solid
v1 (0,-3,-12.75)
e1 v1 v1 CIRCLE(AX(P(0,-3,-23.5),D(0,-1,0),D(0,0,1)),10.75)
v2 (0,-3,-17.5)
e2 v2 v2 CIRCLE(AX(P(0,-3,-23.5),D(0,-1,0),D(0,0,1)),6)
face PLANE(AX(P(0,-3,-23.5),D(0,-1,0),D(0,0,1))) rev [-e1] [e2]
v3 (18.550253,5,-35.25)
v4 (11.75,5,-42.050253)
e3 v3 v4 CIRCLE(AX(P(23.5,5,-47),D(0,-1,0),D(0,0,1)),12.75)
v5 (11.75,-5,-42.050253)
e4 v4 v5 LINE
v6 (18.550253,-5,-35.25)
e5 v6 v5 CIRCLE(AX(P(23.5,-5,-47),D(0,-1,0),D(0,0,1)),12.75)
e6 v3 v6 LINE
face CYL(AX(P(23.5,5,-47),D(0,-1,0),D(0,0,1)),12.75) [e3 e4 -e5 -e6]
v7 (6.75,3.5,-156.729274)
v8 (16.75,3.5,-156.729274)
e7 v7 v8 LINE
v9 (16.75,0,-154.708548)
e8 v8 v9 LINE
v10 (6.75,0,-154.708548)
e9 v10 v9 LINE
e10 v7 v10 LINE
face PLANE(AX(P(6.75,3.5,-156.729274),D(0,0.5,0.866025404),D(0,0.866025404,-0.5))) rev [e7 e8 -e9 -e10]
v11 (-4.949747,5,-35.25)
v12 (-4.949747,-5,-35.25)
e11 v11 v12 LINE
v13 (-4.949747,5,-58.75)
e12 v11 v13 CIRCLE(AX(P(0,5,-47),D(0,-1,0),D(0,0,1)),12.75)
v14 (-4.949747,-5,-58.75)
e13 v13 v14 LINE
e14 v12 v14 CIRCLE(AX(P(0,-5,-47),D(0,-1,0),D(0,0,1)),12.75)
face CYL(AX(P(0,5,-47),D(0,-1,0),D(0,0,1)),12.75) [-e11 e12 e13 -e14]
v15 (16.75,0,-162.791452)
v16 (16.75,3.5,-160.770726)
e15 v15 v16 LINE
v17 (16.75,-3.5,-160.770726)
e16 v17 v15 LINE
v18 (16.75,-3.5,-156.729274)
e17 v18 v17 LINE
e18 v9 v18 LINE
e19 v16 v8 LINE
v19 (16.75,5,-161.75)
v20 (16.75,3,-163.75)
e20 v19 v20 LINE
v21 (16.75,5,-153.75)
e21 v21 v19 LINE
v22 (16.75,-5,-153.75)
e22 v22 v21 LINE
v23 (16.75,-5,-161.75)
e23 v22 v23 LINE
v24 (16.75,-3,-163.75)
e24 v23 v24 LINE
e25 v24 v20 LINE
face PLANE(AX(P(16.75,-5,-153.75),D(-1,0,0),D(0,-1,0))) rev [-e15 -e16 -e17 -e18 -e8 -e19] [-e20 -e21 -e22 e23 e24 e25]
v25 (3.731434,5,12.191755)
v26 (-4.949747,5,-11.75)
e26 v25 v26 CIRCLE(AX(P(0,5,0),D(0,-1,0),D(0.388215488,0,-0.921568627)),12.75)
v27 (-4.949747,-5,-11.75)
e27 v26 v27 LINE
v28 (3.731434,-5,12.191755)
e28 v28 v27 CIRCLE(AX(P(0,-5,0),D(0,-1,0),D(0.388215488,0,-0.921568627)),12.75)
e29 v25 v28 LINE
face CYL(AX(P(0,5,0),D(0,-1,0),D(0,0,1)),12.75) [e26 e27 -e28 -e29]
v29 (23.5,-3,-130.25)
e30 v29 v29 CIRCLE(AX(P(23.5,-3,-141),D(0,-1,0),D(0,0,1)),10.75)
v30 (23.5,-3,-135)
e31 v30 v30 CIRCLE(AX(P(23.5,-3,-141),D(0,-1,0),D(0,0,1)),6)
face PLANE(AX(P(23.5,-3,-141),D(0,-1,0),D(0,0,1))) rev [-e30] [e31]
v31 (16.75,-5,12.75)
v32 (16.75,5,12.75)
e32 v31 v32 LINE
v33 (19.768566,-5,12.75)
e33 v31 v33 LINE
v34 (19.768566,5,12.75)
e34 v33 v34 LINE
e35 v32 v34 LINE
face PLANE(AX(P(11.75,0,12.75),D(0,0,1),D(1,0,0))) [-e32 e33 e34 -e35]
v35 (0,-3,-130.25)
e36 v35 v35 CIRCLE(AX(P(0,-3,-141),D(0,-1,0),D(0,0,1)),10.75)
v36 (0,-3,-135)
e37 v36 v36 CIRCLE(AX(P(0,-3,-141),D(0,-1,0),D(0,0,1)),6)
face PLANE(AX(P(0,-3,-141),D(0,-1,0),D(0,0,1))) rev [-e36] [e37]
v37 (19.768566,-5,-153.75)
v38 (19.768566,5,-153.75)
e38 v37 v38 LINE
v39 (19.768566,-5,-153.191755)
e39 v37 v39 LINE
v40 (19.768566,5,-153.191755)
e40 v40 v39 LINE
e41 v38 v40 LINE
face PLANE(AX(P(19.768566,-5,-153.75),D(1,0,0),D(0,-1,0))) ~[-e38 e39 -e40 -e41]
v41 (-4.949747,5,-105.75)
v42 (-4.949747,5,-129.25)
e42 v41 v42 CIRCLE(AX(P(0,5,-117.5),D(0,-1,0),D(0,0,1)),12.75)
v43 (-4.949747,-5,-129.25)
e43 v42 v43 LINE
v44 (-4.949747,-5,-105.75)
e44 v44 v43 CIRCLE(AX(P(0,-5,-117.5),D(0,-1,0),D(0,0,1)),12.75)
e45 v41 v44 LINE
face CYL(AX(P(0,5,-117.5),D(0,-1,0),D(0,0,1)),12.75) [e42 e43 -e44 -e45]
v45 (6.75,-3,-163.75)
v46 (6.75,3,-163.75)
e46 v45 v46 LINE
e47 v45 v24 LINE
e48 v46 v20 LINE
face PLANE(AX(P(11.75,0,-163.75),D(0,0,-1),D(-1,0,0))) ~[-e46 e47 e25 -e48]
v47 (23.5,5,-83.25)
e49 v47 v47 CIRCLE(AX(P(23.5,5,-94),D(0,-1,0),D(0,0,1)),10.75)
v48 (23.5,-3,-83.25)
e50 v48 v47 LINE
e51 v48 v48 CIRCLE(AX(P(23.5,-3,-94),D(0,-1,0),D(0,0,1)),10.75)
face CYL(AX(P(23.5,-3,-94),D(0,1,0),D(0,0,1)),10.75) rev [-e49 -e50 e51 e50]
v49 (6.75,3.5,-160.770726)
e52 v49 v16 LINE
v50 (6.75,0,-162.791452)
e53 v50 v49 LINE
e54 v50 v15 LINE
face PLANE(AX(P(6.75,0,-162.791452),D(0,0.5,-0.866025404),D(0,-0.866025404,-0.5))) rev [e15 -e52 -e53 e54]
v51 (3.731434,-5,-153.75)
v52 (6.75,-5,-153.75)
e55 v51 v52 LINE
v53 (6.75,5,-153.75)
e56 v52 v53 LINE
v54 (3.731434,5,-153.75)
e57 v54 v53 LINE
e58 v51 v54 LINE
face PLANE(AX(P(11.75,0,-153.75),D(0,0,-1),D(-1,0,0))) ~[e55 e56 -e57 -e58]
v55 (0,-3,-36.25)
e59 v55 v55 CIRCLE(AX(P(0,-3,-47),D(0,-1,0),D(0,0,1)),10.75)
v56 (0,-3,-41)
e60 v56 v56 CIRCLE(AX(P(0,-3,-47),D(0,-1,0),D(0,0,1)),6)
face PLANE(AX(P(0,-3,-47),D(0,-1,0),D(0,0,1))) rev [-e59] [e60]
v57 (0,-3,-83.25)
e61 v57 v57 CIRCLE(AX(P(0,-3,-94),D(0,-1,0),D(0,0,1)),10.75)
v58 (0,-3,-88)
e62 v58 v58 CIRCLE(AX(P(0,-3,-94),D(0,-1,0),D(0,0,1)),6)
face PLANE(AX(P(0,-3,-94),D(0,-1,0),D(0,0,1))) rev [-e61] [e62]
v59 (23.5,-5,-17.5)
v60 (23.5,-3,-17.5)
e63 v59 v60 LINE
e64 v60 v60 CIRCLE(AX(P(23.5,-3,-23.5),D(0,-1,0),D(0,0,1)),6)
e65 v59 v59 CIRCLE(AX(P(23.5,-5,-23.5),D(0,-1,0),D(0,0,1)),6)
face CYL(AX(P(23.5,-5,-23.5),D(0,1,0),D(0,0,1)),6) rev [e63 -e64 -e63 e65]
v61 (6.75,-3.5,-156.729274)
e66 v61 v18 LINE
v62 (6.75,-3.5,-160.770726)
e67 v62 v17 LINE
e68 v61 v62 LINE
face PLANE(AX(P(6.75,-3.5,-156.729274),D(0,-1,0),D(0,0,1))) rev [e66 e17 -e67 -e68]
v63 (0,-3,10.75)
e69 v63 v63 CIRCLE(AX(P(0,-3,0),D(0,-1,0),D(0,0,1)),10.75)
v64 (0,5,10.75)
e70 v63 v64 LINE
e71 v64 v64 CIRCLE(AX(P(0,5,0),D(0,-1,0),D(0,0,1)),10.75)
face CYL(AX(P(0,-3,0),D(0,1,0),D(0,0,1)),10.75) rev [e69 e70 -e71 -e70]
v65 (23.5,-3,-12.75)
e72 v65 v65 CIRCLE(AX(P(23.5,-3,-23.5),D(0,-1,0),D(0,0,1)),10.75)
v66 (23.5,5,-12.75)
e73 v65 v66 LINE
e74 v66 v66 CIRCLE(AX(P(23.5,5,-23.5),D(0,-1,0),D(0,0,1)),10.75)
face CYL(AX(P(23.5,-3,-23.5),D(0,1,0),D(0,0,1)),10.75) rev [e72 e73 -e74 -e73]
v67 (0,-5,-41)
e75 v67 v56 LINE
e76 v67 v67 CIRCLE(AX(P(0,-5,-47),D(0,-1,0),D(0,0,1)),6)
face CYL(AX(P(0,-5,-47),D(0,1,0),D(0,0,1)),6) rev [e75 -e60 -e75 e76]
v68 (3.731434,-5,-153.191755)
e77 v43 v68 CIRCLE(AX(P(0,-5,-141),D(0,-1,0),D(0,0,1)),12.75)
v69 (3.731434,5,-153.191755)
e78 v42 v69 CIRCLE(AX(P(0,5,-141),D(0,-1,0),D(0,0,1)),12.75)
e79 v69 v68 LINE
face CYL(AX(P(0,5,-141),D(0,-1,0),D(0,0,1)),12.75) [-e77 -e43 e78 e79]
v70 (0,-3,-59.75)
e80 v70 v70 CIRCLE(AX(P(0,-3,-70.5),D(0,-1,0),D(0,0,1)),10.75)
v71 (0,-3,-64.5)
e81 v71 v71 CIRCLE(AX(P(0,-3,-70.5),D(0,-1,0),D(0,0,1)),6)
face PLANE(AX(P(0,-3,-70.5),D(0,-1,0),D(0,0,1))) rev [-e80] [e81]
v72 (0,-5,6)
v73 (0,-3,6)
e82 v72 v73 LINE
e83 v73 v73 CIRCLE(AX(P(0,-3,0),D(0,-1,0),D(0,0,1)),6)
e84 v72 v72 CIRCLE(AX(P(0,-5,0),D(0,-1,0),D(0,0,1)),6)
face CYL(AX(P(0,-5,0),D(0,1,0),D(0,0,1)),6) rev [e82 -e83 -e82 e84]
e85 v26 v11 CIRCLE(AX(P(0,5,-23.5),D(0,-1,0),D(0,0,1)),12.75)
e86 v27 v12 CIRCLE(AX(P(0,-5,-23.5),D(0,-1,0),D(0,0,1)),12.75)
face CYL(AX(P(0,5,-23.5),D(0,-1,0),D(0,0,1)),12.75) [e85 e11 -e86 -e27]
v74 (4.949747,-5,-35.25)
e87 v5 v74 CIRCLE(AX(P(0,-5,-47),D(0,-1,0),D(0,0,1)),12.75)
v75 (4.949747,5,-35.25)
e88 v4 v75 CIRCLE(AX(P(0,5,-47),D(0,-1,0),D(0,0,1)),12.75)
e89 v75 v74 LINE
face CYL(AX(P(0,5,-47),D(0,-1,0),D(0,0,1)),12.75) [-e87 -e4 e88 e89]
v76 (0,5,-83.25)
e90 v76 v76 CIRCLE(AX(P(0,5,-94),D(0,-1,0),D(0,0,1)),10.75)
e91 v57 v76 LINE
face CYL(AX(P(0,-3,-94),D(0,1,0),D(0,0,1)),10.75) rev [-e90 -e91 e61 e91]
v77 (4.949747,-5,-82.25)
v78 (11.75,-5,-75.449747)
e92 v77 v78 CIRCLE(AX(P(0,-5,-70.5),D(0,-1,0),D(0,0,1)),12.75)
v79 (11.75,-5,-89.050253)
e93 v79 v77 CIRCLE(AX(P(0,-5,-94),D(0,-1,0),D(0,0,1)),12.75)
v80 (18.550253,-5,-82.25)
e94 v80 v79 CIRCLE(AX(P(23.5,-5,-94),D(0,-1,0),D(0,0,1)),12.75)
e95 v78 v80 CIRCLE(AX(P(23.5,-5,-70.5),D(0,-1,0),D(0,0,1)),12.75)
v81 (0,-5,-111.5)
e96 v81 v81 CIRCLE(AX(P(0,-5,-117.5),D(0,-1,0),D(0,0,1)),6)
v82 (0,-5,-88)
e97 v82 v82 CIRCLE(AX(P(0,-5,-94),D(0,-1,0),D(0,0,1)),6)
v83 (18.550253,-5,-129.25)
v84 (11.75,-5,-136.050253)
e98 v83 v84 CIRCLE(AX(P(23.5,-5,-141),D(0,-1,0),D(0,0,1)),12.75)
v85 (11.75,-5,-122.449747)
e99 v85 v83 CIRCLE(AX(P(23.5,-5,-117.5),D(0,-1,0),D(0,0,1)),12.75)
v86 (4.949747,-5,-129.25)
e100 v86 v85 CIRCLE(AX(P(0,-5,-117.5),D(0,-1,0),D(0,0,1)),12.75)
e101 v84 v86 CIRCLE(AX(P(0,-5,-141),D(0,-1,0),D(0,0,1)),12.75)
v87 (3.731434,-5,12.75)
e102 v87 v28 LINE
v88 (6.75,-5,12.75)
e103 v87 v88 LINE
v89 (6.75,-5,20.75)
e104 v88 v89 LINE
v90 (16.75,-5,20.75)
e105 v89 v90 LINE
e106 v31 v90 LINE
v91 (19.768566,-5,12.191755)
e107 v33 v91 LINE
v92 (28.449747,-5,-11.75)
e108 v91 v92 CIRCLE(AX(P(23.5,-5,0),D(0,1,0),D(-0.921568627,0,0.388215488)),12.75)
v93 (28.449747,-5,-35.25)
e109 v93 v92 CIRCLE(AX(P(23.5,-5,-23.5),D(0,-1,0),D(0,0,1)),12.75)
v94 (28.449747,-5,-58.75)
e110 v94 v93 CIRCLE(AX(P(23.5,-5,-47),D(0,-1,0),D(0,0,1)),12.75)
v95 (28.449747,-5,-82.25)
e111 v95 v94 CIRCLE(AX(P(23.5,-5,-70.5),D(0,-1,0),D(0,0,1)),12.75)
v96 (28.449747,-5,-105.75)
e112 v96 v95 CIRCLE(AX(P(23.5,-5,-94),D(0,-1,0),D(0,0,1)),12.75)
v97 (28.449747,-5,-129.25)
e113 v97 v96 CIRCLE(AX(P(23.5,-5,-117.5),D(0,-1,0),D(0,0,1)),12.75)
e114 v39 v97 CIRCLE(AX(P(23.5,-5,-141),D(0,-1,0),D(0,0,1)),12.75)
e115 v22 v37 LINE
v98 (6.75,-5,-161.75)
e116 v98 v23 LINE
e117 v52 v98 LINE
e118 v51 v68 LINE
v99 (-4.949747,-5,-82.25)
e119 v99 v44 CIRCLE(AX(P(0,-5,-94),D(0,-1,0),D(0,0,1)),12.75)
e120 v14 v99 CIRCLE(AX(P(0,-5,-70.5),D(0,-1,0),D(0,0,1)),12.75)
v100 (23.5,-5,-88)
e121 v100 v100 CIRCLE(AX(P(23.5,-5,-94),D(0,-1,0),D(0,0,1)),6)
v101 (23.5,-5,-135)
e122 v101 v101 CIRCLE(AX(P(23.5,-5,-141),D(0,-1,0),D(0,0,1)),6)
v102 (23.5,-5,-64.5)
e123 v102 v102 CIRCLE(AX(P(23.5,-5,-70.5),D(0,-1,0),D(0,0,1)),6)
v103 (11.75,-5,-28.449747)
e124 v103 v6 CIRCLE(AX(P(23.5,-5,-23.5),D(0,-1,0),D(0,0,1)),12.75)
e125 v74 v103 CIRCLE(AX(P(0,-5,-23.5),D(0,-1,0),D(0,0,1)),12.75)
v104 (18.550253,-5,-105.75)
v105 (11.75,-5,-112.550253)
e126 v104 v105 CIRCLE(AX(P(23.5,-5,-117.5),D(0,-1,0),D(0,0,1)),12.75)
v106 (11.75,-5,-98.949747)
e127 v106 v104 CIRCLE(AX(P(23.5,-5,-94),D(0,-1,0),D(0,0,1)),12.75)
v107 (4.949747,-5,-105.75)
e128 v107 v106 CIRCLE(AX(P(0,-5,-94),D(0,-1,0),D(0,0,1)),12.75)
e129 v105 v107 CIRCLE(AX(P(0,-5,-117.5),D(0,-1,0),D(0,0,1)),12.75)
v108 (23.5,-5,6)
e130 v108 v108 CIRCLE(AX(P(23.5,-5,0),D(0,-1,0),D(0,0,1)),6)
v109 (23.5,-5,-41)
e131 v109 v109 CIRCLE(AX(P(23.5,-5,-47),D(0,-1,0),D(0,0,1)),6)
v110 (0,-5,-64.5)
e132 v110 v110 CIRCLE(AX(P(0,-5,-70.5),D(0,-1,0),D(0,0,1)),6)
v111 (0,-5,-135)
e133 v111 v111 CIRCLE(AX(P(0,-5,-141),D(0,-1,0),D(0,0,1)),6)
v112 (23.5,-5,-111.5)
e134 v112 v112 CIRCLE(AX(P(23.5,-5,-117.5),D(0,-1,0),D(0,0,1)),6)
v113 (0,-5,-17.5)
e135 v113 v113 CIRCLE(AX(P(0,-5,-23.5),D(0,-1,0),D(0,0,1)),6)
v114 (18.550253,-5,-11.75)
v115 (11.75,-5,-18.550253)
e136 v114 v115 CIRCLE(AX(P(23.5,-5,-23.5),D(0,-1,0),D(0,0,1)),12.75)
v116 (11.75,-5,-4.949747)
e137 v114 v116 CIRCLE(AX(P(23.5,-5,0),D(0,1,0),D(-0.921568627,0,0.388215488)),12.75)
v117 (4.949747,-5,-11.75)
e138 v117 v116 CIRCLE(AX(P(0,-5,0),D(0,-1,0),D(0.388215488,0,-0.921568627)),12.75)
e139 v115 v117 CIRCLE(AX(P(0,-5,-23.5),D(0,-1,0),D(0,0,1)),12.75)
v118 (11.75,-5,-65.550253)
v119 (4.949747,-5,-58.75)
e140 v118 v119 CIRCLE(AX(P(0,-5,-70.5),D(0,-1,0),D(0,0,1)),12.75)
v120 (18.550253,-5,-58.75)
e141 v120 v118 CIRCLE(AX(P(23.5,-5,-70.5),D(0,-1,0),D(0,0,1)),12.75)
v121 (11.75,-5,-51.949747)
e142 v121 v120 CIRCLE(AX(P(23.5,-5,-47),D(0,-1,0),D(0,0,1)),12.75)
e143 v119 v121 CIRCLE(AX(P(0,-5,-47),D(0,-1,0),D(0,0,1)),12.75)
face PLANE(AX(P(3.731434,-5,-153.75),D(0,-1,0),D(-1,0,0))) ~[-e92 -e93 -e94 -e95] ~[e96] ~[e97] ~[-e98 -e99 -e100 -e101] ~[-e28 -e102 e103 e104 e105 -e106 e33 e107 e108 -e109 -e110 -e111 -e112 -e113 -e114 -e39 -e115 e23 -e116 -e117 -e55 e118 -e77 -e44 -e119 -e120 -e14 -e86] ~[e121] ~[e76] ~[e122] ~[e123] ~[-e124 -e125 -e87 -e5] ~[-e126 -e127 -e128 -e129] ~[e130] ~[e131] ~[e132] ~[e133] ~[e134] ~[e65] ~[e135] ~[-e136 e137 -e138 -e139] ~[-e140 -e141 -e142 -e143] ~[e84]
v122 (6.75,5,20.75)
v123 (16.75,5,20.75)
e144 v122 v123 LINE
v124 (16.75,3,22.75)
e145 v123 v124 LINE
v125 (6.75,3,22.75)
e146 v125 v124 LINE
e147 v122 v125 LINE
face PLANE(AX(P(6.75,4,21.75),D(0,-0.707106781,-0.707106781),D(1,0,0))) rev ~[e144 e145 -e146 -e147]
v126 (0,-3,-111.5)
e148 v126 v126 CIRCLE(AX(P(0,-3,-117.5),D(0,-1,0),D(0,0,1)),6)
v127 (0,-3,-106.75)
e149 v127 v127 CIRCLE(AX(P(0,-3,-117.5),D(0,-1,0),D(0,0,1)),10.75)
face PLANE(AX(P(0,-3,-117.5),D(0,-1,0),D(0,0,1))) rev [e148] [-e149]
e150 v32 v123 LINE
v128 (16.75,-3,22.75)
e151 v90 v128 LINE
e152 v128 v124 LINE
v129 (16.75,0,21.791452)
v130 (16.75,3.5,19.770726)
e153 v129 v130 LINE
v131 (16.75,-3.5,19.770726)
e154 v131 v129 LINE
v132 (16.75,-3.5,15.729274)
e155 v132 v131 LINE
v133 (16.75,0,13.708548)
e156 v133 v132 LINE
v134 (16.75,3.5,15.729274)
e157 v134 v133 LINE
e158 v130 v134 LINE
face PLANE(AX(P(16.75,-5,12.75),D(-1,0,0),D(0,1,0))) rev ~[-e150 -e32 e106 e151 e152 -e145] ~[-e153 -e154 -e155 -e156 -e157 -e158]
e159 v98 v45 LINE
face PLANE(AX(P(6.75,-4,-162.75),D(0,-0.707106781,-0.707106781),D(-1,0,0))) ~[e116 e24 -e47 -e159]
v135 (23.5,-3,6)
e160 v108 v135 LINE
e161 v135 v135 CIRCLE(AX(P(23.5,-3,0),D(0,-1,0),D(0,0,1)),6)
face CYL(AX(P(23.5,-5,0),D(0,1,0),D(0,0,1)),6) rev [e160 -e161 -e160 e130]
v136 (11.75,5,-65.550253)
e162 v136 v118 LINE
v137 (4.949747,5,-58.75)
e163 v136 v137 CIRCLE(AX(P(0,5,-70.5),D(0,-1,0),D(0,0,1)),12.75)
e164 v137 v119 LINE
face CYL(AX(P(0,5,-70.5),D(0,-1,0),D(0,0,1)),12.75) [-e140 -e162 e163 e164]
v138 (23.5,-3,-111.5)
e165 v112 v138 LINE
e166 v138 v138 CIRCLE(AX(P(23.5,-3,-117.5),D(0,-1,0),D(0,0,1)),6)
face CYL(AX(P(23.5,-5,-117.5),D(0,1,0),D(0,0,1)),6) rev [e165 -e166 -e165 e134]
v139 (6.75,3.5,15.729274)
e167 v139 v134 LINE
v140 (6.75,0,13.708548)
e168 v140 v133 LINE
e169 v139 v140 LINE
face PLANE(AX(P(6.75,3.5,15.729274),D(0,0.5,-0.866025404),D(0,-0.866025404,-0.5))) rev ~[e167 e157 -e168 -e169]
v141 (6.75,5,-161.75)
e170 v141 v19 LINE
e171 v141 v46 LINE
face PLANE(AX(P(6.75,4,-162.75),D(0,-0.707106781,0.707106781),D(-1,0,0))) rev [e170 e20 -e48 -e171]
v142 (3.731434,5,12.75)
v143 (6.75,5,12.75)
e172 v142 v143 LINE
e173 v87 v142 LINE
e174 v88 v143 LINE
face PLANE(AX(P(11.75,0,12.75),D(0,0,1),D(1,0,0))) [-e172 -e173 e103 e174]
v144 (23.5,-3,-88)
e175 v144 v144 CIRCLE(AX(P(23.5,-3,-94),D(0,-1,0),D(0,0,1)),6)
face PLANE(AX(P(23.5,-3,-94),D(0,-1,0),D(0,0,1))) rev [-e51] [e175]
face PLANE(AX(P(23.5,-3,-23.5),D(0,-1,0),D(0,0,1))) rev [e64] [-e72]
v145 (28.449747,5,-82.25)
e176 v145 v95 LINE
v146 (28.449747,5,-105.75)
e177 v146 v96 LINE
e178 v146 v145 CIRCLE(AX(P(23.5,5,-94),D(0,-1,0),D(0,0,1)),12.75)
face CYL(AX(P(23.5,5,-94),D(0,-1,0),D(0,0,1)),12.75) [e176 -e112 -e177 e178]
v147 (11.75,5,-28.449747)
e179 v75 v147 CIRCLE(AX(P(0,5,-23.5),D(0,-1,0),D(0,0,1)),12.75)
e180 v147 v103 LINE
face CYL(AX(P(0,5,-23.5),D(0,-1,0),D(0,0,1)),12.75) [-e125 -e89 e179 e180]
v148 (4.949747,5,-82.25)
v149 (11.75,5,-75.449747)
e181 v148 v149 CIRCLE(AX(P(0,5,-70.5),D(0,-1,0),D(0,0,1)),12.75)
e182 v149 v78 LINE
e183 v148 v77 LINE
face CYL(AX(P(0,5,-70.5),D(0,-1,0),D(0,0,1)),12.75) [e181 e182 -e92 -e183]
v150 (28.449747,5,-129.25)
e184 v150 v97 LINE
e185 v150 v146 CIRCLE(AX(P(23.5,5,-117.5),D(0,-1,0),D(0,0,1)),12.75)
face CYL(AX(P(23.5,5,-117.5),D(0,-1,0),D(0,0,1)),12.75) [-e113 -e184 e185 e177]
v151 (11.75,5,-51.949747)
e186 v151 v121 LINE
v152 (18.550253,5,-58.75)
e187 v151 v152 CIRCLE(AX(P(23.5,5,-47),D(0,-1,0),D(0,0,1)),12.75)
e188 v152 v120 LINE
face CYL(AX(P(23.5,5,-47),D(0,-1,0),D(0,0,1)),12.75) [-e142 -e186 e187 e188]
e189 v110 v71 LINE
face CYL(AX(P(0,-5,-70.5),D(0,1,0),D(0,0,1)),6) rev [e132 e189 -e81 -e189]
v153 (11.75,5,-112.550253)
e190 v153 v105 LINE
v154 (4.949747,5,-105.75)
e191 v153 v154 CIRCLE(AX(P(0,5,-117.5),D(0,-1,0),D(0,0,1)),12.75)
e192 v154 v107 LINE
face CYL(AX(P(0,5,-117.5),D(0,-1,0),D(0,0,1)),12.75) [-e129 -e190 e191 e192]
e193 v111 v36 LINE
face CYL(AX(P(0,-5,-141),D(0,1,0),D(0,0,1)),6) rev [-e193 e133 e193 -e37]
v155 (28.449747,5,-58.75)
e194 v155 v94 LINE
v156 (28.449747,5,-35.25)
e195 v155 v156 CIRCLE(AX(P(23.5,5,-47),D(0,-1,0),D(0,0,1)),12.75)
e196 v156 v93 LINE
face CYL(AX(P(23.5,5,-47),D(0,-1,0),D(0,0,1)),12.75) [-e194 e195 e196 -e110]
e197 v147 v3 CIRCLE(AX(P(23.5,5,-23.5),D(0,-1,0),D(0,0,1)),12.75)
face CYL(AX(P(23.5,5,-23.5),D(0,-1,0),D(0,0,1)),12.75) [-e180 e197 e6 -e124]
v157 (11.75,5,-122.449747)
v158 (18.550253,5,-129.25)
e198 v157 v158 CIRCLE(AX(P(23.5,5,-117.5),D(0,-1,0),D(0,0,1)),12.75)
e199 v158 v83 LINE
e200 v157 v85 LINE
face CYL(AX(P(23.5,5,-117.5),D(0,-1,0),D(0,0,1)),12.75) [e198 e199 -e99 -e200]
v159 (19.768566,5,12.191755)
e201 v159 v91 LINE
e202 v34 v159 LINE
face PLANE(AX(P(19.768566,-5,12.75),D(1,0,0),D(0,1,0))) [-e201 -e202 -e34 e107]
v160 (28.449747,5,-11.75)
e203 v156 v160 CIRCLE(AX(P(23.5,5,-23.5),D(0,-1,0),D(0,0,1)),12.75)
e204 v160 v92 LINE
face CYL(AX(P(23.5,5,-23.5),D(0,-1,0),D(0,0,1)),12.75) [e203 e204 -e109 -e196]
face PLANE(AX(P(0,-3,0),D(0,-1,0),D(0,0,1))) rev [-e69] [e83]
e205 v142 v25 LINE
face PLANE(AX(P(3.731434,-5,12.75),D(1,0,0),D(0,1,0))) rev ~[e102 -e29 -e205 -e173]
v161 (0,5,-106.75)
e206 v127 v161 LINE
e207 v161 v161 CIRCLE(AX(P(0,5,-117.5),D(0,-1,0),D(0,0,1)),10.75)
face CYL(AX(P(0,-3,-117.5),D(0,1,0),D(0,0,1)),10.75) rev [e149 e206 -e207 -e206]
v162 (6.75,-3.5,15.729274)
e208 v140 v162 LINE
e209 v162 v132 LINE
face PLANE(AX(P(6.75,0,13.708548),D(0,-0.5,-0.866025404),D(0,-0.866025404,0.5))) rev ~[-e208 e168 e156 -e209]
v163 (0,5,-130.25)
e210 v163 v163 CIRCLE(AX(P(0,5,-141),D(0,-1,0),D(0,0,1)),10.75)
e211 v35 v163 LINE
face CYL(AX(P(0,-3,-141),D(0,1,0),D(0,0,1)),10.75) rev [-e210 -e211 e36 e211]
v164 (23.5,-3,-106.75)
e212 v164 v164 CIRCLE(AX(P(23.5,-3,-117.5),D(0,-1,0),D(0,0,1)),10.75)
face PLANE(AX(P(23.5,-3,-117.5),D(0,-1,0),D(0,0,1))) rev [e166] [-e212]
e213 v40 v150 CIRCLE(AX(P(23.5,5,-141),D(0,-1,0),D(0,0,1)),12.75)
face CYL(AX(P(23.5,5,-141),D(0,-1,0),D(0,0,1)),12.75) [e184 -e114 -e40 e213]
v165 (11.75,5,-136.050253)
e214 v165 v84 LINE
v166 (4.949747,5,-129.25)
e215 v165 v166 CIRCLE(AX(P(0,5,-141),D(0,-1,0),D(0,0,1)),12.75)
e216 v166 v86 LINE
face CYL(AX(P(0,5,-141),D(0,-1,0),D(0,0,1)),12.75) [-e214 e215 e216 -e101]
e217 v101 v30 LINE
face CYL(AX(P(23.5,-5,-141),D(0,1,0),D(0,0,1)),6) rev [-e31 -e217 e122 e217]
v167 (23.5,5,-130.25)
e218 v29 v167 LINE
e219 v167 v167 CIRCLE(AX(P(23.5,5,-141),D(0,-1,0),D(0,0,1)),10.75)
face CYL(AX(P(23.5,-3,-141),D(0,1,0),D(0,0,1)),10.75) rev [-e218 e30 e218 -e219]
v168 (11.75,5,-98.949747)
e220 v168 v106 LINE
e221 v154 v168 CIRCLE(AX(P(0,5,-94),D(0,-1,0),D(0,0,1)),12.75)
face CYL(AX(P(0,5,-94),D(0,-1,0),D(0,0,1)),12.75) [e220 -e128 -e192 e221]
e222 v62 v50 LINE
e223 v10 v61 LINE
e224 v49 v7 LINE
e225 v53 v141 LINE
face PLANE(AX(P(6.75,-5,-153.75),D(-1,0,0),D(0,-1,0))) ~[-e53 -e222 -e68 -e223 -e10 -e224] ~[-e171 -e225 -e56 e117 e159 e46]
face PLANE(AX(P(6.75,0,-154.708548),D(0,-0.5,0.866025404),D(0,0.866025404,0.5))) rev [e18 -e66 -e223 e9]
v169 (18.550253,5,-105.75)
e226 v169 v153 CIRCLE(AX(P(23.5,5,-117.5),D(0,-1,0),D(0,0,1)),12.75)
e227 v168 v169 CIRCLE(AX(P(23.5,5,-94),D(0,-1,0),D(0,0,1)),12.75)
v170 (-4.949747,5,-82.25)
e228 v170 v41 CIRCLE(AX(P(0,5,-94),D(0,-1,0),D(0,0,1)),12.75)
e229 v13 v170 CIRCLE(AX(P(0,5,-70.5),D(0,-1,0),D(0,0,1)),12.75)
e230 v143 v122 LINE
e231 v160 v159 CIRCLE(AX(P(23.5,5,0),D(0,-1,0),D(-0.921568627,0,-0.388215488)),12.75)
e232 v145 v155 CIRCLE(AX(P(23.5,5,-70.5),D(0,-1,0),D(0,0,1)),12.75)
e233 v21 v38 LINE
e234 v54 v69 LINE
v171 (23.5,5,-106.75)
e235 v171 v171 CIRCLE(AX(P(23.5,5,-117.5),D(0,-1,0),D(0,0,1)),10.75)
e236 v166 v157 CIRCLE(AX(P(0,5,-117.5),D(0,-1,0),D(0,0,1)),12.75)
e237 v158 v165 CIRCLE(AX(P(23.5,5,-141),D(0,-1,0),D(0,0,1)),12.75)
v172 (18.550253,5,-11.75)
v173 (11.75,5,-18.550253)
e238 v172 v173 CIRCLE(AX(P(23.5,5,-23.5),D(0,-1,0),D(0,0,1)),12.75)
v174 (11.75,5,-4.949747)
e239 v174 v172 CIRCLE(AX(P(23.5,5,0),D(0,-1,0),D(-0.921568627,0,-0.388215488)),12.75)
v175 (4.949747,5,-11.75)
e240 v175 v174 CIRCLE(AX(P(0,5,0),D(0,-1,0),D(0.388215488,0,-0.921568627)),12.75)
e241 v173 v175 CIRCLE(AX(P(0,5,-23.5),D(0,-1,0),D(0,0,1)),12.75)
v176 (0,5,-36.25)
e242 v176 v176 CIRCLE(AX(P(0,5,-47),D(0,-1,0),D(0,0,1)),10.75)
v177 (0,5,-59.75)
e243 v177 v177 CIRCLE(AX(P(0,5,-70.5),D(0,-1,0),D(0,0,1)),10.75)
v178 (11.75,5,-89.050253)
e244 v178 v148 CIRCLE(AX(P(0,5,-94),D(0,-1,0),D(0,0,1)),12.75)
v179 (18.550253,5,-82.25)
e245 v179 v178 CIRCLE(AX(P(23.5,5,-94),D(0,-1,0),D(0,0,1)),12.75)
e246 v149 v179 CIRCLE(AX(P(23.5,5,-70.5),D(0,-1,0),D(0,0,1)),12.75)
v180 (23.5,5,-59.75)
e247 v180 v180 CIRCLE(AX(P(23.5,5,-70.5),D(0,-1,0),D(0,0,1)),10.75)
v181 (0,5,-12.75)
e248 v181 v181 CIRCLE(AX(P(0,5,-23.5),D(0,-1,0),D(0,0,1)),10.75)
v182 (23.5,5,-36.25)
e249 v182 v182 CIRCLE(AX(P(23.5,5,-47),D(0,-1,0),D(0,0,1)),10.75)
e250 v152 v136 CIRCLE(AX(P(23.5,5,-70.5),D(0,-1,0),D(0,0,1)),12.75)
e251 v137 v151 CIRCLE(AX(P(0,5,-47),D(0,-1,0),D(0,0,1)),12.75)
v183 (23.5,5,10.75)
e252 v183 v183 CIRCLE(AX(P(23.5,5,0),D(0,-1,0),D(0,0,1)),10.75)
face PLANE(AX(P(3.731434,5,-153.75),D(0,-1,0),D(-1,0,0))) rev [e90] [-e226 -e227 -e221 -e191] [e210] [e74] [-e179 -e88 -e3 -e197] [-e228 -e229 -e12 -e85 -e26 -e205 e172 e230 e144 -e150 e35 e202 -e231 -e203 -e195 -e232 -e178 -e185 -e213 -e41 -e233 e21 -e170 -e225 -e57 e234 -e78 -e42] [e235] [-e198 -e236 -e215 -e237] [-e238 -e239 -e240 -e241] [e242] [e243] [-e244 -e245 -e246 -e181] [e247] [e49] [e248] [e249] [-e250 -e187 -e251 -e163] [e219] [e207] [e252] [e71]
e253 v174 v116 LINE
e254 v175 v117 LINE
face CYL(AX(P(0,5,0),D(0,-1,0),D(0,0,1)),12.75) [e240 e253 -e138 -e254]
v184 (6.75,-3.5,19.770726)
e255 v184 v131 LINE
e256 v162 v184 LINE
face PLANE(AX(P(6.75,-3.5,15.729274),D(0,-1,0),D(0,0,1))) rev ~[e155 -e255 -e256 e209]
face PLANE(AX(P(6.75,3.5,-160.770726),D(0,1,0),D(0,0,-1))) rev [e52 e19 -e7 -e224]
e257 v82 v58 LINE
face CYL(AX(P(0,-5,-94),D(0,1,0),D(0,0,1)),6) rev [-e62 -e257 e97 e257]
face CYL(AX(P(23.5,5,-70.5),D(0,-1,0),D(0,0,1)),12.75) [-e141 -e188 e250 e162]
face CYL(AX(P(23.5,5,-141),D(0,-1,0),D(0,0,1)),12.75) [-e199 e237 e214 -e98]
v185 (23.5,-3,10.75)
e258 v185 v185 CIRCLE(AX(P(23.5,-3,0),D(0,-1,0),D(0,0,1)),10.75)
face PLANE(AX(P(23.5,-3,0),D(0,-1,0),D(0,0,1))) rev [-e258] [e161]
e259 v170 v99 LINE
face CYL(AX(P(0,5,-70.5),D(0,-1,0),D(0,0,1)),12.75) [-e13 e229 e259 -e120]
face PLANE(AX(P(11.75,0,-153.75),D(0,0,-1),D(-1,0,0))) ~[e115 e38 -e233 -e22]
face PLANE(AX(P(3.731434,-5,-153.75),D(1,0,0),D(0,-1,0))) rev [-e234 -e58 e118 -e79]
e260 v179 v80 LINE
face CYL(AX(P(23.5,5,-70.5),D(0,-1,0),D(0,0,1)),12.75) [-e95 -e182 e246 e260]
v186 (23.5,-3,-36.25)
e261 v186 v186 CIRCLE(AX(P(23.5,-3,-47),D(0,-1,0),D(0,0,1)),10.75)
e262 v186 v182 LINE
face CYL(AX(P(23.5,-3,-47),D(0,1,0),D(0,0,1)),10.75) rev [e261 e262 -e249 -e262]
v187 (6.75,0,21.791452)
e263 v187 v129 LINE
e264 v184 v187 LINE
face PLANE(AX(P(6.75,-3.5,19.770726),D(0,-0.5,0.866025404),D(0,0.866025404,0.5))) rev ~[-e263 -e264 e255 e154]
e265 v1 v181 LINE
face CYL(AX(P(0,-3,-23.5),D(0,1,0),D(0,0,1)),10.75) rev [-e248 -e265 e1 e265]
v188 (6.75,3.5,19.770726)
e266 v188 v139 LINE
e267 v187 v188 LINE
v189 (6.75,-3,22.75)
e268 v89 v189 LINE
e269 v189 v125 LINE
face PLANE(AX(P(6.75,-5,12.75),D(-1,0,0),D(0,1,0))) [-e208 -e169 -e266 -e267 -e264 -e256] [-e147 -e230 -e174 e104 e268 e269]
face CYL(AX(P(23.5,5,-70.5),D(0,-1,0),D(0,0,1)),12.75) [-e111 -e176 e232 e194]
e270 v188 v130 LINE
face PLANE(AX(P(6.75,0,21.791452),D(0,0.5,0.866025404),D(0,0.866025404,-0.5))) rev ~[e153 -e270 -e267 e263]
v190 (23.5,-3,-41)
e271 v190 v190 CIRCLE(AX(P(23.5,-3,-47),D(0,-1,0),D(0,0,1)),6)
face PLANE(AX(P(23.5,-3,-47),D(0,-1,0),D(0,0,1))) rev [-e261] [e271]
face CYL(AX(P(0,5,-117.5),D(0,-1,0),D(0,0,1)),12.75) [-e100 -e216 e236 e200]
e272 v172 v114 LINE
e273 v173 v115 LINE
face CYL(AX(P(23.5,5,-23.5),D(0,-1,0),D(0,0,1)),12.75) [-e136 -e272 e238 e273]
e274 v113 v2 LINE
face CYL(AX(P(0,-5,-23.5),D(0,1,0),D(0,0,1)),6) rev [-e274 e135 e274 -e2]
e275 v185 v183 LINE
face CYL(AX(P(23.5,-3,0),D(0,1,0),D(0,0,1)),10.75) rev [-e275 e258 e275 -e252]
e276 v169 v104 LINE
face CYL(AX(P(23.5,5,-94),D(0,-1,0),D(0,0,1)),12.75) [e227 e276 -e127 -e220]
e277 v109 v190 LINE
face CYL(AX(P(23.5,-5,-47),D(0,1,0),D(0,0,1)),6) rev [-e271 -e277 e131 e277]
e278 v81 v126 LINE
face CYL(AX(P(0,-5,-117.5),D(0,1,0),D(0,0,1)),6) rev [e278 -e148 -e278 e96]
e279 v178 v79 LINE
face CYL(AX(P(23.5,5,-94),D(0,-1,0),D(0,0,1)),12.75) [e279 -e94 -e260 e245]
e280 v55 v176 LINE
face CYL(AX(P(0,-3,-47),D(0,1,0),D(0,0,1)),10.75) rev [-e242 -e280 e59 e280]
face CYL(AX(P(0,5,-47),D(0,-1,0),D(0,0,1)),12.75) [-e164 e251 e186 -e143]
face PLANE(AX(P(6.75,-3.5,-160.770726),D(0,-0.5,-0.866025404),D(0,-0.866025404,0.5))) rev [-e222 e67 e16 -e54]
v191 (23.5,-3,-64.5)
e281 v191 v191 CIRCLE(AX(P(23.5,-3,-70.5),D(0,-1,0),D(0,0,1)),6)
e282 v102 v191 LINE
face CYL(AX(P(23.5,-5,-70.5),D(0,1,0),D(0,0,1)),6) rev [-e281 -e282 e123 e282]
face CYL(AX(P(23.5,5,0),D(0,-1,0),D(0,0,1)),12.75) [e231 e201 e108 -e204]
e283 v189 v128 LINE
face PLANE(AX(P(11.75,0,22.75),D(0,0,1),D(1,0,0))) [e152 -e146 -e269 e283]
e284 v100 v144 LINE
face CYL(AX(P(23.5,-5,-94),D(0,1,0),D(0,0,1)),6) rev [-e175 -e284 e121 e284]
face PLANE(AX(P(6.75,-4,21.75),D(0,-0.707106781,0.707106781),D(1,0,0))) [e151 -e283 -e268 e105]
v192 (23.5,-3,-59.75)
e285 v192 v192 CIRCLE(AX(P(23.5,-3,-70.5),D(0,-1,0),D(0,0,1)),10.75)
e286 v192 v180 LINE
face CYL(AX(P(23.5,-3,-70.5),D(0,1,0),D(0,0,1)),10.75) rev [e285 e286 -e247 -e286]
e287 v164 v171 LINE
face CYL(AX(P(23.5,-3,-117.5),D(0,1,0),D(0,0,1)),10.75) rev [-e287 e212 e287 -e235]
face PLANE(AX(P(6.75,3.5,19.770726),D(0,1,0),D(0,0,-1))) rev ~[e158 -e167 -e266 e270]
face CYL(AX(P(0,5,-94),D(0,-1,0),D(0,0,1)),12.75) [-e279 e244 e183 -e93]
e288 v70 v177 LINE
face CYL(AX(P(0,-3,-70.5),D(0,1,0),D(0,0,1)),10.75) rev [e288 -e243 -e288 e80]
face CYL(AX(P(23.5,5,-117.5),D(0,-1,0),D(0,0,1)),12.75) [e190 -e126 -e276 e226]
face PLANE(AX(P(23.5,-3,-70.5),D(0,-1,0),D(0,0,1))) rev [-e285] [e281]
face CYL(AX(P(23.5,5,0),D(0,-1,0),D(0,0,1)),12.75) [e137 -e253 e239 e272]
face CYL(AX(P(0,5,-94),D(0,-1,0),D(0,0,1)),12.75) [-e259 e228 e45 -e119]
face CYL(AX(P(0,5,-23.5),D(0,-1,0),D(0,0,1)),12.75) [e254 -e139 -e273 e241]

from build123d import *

# Parameters (mm, degrees)
LPATTERN1_COUNT          = 7
LPATTERN1_PITCH          = 23.5
LPATTERN2_COUNT          = 2
LPATTERN2_PITCH          = 23.5
BOSS_EXTRUDE1_REACH      = 172.474
SKETCH4_W                = 16.037131026
SKETCH4_H                = 10
SKETCH5_W                = 10
SKETCH5_H                = 10
BOSS_EXTRUDE2_DEPTH      = 10
CUT_EXTRUDE1_DEPTH       = 10
CHAMFER3_SIZE            = 2
CHAMFER3_OF_MIRROR2_SIZE = 2


with BuildPart() as part:
    # Sketch1 → Revolve1 (revolve)
    with BuildSketch(Plane(origin=(0, 0, 0), x_dir=(0, 0, -1), z_dir=(1, 0, 0))):
        Polygon((-12.75, 5), (-12.75, -5), (-6, -5), (-6, -3), (-10.75, -3), (-10.75, 5), align=None)
    revolve1 = revolve(axis=Axis((0, 27.077205882, 0), (0, -1, 0)))

    # LPattern1: Revolve1 ×7
    with Locations(*[(0, 0, -i * LPATTERN1_PITCH) for i in range(1, LPATTERN1_COUNT)]):
        add(revolve1)

    # LPattern2: Revolve1 ×2
    with Locations(*[(i * LPATTERN2_PITCH, 0, 0) for i in range(1, LPATTERN2_COUNT)]):
        add(revolve1)

    # LPattern2 copy 1 sketch → LPattern2 copy 1 (revolve)
    with BuildSketch(Plane(origin=(23.5, 0, -23.5), x_dir=(0, 0, -1), z_dir=(1, 0, 0))):
        Polygon((-12.75, 5), (-12.75, -5), (-6, -5), (-6, -3), (-10.75, -3), (-10.75, 5), align=None)
    revolve(axis=Axis((23.5, 27.077205882, -23.5), (0, -1, 0)))

    # LPattern2 copy 2 sketch → LPattern2 copy 2 (revolve)
    with BuildSketch(Plane(origin=(23.5, 0, -47), x_dir=(0, 0, -1), z_dir=(1, 0, 0))):
        Polygon((-12.75, 5), (-12.75, -5), (-6, -5), (-6, -3), (-10.75, -3), (-10.75, 5), align=None)
    revolve(axis=Axis((23.5, 27.077205882, -47), (0, -1, 0)))

    # LPattern2 copy 3 sketch → LPattern2 copy 3 (revolve)
    with BuildSketch(Plane(origin=(23.5, 0, -70.5), x_dir=(0, 0, -1), z_dir=(1, 0, 0))):
        Polygon((-12.75, 5), (-12.75, -5), (-6, -5), (-6, -3), (-10.75, -3), (-10.75, 5), align=None)
    revolve(axis=Axis((23.5, 27.077205882, -70.5), (0, -1, 0)))

    # LPattern2 copy 4 sketch → LPattern2 copy 4 (revolve)
    with BuildSketch(Plane(origin=(23.5, 0, -94), x_dir=(0, 0, -1), z_dir=(1, 0, 0))):
        Polygon((-12.75, 5), (-12.75, -5), (-6, -5), (-6, -3), (-10.75, -3), (-10.75, 5), align=None)
    revolve(axis=Axis((23.5, 27.077205882, -94), (0, -1, 0)))

    # LPattern2 copy 5 sketch → LPattern2 copy 5 (revolve)
    with BuildSketch(Plane(origin=(23.5, 0, -117.5), x_dir=(0, 0, -1), z_dir=(1, 0, 0))):
        Polygon((-12.75, 5), (-12.75, -5), (-6, -5), (-6, -3), (-10.75, -3), (-10.75, 5), align=None)
    revolve(axis=Axis((23.5, 27.077205882, -117.5), (0, -1, 0)))

    # LPattern2 copy 6 sketch → LPattern2 copy 6 (revolve)
    with BuildSketch(Plane(origin=(23.5, 0, -141), x_dir=(0, 0, -1), z_dir=(1, 0, 0))):
        Polygon((-12.75, 5), (-12.75, -5), (-6, -5), (-6, -3), (-10.75, -3), (-10.75, 5), align=None)
    revolve(axis=Axis((23.5, 27.077205882, -141), (0, -1, 0)))

    # Sketch4 → Boss-Extrude1 (add, up to next)
    with BuildSketch(Plane.XY.offset(12.75), mode=Mode.PRIVATE) as boss_extrude1_sk1:
        with Locations((11.75, 0)):
            Rectangle(SKETCH4_W, SKETCH4_H)
    boss_extrude1_tool1 = extrude(boss_extrude1_sk1.sketch, amount=-BOSS_EXTRUDE1_REACH, mode=Mode.PRIVATE) - part.part
    boss_extrude1 = boss_extrude1_tool1.solids().sort_by_distance((11.75, 0, 12.75))[0]
    add(boss_extrude1)

    # Sketch5 → Boss-Extrude2 (add)
    with BuildSketch(Plane.XY.offset(12.75)):
        with Locations((11.75, 0)):
            Rectangle(SKETCH5_W, SKETCH5_H)
    boss_extrude2 = extrude(amount=BOSS_EXTRUDE2_DEPTH)

    # Sketch8 → Cut-Extrude1 (cut)
    with BuildSketch(Plane.ZY.offset(-6.75)):
        Polygon((19.770725942, -3.5), (21.791451884, 0), (19.770725942, 3.5), (15.729274058, 3.5), (13.708548116, 0), (15.729274058, -3.5), align=None)
    cut_extrude1 = extrude(amount=-CUT_EXTRUDE1_DEPTH, mode=Mode.SUBTRACT)

    # Chamfer3
    chamfer3_edges = [part.edges().sort_by_distance(p)[0] for p in [
        (11.75, -5, 22.75),
        (11.75, 5, 22.75),
    ]]
    chamfer(chamfer3_edges, length=CHAMFER3_SIZE)

    # Mirror2: Boss-Extrude1, Boss-Extrude2, Cut-Extrude1 across plane
    add(boss_extrude1.mirror(Plane.XY.offset(-70.5)))
    add(boss_extrude2.mirror(Plane.XY.offset(-70.5)))
    add(cut_extrude1.mirror(Plane.XY.offset(-70.5)), mode=Mode.SUBTRACT)

    # Chamfer3 of Mirror2
    chamfer3_of_mirror2_edges = [part.edges().sort_by_distance(p)[0] for p in [
        (11.75, -5, -163.75),
        (11.75, 5, -163.75),
    ]]
    chamfer(chamfer3_of_mirror2_edges, length=CHAMFER3_OF_MIRROR2_SIZE)


solid = part.part
